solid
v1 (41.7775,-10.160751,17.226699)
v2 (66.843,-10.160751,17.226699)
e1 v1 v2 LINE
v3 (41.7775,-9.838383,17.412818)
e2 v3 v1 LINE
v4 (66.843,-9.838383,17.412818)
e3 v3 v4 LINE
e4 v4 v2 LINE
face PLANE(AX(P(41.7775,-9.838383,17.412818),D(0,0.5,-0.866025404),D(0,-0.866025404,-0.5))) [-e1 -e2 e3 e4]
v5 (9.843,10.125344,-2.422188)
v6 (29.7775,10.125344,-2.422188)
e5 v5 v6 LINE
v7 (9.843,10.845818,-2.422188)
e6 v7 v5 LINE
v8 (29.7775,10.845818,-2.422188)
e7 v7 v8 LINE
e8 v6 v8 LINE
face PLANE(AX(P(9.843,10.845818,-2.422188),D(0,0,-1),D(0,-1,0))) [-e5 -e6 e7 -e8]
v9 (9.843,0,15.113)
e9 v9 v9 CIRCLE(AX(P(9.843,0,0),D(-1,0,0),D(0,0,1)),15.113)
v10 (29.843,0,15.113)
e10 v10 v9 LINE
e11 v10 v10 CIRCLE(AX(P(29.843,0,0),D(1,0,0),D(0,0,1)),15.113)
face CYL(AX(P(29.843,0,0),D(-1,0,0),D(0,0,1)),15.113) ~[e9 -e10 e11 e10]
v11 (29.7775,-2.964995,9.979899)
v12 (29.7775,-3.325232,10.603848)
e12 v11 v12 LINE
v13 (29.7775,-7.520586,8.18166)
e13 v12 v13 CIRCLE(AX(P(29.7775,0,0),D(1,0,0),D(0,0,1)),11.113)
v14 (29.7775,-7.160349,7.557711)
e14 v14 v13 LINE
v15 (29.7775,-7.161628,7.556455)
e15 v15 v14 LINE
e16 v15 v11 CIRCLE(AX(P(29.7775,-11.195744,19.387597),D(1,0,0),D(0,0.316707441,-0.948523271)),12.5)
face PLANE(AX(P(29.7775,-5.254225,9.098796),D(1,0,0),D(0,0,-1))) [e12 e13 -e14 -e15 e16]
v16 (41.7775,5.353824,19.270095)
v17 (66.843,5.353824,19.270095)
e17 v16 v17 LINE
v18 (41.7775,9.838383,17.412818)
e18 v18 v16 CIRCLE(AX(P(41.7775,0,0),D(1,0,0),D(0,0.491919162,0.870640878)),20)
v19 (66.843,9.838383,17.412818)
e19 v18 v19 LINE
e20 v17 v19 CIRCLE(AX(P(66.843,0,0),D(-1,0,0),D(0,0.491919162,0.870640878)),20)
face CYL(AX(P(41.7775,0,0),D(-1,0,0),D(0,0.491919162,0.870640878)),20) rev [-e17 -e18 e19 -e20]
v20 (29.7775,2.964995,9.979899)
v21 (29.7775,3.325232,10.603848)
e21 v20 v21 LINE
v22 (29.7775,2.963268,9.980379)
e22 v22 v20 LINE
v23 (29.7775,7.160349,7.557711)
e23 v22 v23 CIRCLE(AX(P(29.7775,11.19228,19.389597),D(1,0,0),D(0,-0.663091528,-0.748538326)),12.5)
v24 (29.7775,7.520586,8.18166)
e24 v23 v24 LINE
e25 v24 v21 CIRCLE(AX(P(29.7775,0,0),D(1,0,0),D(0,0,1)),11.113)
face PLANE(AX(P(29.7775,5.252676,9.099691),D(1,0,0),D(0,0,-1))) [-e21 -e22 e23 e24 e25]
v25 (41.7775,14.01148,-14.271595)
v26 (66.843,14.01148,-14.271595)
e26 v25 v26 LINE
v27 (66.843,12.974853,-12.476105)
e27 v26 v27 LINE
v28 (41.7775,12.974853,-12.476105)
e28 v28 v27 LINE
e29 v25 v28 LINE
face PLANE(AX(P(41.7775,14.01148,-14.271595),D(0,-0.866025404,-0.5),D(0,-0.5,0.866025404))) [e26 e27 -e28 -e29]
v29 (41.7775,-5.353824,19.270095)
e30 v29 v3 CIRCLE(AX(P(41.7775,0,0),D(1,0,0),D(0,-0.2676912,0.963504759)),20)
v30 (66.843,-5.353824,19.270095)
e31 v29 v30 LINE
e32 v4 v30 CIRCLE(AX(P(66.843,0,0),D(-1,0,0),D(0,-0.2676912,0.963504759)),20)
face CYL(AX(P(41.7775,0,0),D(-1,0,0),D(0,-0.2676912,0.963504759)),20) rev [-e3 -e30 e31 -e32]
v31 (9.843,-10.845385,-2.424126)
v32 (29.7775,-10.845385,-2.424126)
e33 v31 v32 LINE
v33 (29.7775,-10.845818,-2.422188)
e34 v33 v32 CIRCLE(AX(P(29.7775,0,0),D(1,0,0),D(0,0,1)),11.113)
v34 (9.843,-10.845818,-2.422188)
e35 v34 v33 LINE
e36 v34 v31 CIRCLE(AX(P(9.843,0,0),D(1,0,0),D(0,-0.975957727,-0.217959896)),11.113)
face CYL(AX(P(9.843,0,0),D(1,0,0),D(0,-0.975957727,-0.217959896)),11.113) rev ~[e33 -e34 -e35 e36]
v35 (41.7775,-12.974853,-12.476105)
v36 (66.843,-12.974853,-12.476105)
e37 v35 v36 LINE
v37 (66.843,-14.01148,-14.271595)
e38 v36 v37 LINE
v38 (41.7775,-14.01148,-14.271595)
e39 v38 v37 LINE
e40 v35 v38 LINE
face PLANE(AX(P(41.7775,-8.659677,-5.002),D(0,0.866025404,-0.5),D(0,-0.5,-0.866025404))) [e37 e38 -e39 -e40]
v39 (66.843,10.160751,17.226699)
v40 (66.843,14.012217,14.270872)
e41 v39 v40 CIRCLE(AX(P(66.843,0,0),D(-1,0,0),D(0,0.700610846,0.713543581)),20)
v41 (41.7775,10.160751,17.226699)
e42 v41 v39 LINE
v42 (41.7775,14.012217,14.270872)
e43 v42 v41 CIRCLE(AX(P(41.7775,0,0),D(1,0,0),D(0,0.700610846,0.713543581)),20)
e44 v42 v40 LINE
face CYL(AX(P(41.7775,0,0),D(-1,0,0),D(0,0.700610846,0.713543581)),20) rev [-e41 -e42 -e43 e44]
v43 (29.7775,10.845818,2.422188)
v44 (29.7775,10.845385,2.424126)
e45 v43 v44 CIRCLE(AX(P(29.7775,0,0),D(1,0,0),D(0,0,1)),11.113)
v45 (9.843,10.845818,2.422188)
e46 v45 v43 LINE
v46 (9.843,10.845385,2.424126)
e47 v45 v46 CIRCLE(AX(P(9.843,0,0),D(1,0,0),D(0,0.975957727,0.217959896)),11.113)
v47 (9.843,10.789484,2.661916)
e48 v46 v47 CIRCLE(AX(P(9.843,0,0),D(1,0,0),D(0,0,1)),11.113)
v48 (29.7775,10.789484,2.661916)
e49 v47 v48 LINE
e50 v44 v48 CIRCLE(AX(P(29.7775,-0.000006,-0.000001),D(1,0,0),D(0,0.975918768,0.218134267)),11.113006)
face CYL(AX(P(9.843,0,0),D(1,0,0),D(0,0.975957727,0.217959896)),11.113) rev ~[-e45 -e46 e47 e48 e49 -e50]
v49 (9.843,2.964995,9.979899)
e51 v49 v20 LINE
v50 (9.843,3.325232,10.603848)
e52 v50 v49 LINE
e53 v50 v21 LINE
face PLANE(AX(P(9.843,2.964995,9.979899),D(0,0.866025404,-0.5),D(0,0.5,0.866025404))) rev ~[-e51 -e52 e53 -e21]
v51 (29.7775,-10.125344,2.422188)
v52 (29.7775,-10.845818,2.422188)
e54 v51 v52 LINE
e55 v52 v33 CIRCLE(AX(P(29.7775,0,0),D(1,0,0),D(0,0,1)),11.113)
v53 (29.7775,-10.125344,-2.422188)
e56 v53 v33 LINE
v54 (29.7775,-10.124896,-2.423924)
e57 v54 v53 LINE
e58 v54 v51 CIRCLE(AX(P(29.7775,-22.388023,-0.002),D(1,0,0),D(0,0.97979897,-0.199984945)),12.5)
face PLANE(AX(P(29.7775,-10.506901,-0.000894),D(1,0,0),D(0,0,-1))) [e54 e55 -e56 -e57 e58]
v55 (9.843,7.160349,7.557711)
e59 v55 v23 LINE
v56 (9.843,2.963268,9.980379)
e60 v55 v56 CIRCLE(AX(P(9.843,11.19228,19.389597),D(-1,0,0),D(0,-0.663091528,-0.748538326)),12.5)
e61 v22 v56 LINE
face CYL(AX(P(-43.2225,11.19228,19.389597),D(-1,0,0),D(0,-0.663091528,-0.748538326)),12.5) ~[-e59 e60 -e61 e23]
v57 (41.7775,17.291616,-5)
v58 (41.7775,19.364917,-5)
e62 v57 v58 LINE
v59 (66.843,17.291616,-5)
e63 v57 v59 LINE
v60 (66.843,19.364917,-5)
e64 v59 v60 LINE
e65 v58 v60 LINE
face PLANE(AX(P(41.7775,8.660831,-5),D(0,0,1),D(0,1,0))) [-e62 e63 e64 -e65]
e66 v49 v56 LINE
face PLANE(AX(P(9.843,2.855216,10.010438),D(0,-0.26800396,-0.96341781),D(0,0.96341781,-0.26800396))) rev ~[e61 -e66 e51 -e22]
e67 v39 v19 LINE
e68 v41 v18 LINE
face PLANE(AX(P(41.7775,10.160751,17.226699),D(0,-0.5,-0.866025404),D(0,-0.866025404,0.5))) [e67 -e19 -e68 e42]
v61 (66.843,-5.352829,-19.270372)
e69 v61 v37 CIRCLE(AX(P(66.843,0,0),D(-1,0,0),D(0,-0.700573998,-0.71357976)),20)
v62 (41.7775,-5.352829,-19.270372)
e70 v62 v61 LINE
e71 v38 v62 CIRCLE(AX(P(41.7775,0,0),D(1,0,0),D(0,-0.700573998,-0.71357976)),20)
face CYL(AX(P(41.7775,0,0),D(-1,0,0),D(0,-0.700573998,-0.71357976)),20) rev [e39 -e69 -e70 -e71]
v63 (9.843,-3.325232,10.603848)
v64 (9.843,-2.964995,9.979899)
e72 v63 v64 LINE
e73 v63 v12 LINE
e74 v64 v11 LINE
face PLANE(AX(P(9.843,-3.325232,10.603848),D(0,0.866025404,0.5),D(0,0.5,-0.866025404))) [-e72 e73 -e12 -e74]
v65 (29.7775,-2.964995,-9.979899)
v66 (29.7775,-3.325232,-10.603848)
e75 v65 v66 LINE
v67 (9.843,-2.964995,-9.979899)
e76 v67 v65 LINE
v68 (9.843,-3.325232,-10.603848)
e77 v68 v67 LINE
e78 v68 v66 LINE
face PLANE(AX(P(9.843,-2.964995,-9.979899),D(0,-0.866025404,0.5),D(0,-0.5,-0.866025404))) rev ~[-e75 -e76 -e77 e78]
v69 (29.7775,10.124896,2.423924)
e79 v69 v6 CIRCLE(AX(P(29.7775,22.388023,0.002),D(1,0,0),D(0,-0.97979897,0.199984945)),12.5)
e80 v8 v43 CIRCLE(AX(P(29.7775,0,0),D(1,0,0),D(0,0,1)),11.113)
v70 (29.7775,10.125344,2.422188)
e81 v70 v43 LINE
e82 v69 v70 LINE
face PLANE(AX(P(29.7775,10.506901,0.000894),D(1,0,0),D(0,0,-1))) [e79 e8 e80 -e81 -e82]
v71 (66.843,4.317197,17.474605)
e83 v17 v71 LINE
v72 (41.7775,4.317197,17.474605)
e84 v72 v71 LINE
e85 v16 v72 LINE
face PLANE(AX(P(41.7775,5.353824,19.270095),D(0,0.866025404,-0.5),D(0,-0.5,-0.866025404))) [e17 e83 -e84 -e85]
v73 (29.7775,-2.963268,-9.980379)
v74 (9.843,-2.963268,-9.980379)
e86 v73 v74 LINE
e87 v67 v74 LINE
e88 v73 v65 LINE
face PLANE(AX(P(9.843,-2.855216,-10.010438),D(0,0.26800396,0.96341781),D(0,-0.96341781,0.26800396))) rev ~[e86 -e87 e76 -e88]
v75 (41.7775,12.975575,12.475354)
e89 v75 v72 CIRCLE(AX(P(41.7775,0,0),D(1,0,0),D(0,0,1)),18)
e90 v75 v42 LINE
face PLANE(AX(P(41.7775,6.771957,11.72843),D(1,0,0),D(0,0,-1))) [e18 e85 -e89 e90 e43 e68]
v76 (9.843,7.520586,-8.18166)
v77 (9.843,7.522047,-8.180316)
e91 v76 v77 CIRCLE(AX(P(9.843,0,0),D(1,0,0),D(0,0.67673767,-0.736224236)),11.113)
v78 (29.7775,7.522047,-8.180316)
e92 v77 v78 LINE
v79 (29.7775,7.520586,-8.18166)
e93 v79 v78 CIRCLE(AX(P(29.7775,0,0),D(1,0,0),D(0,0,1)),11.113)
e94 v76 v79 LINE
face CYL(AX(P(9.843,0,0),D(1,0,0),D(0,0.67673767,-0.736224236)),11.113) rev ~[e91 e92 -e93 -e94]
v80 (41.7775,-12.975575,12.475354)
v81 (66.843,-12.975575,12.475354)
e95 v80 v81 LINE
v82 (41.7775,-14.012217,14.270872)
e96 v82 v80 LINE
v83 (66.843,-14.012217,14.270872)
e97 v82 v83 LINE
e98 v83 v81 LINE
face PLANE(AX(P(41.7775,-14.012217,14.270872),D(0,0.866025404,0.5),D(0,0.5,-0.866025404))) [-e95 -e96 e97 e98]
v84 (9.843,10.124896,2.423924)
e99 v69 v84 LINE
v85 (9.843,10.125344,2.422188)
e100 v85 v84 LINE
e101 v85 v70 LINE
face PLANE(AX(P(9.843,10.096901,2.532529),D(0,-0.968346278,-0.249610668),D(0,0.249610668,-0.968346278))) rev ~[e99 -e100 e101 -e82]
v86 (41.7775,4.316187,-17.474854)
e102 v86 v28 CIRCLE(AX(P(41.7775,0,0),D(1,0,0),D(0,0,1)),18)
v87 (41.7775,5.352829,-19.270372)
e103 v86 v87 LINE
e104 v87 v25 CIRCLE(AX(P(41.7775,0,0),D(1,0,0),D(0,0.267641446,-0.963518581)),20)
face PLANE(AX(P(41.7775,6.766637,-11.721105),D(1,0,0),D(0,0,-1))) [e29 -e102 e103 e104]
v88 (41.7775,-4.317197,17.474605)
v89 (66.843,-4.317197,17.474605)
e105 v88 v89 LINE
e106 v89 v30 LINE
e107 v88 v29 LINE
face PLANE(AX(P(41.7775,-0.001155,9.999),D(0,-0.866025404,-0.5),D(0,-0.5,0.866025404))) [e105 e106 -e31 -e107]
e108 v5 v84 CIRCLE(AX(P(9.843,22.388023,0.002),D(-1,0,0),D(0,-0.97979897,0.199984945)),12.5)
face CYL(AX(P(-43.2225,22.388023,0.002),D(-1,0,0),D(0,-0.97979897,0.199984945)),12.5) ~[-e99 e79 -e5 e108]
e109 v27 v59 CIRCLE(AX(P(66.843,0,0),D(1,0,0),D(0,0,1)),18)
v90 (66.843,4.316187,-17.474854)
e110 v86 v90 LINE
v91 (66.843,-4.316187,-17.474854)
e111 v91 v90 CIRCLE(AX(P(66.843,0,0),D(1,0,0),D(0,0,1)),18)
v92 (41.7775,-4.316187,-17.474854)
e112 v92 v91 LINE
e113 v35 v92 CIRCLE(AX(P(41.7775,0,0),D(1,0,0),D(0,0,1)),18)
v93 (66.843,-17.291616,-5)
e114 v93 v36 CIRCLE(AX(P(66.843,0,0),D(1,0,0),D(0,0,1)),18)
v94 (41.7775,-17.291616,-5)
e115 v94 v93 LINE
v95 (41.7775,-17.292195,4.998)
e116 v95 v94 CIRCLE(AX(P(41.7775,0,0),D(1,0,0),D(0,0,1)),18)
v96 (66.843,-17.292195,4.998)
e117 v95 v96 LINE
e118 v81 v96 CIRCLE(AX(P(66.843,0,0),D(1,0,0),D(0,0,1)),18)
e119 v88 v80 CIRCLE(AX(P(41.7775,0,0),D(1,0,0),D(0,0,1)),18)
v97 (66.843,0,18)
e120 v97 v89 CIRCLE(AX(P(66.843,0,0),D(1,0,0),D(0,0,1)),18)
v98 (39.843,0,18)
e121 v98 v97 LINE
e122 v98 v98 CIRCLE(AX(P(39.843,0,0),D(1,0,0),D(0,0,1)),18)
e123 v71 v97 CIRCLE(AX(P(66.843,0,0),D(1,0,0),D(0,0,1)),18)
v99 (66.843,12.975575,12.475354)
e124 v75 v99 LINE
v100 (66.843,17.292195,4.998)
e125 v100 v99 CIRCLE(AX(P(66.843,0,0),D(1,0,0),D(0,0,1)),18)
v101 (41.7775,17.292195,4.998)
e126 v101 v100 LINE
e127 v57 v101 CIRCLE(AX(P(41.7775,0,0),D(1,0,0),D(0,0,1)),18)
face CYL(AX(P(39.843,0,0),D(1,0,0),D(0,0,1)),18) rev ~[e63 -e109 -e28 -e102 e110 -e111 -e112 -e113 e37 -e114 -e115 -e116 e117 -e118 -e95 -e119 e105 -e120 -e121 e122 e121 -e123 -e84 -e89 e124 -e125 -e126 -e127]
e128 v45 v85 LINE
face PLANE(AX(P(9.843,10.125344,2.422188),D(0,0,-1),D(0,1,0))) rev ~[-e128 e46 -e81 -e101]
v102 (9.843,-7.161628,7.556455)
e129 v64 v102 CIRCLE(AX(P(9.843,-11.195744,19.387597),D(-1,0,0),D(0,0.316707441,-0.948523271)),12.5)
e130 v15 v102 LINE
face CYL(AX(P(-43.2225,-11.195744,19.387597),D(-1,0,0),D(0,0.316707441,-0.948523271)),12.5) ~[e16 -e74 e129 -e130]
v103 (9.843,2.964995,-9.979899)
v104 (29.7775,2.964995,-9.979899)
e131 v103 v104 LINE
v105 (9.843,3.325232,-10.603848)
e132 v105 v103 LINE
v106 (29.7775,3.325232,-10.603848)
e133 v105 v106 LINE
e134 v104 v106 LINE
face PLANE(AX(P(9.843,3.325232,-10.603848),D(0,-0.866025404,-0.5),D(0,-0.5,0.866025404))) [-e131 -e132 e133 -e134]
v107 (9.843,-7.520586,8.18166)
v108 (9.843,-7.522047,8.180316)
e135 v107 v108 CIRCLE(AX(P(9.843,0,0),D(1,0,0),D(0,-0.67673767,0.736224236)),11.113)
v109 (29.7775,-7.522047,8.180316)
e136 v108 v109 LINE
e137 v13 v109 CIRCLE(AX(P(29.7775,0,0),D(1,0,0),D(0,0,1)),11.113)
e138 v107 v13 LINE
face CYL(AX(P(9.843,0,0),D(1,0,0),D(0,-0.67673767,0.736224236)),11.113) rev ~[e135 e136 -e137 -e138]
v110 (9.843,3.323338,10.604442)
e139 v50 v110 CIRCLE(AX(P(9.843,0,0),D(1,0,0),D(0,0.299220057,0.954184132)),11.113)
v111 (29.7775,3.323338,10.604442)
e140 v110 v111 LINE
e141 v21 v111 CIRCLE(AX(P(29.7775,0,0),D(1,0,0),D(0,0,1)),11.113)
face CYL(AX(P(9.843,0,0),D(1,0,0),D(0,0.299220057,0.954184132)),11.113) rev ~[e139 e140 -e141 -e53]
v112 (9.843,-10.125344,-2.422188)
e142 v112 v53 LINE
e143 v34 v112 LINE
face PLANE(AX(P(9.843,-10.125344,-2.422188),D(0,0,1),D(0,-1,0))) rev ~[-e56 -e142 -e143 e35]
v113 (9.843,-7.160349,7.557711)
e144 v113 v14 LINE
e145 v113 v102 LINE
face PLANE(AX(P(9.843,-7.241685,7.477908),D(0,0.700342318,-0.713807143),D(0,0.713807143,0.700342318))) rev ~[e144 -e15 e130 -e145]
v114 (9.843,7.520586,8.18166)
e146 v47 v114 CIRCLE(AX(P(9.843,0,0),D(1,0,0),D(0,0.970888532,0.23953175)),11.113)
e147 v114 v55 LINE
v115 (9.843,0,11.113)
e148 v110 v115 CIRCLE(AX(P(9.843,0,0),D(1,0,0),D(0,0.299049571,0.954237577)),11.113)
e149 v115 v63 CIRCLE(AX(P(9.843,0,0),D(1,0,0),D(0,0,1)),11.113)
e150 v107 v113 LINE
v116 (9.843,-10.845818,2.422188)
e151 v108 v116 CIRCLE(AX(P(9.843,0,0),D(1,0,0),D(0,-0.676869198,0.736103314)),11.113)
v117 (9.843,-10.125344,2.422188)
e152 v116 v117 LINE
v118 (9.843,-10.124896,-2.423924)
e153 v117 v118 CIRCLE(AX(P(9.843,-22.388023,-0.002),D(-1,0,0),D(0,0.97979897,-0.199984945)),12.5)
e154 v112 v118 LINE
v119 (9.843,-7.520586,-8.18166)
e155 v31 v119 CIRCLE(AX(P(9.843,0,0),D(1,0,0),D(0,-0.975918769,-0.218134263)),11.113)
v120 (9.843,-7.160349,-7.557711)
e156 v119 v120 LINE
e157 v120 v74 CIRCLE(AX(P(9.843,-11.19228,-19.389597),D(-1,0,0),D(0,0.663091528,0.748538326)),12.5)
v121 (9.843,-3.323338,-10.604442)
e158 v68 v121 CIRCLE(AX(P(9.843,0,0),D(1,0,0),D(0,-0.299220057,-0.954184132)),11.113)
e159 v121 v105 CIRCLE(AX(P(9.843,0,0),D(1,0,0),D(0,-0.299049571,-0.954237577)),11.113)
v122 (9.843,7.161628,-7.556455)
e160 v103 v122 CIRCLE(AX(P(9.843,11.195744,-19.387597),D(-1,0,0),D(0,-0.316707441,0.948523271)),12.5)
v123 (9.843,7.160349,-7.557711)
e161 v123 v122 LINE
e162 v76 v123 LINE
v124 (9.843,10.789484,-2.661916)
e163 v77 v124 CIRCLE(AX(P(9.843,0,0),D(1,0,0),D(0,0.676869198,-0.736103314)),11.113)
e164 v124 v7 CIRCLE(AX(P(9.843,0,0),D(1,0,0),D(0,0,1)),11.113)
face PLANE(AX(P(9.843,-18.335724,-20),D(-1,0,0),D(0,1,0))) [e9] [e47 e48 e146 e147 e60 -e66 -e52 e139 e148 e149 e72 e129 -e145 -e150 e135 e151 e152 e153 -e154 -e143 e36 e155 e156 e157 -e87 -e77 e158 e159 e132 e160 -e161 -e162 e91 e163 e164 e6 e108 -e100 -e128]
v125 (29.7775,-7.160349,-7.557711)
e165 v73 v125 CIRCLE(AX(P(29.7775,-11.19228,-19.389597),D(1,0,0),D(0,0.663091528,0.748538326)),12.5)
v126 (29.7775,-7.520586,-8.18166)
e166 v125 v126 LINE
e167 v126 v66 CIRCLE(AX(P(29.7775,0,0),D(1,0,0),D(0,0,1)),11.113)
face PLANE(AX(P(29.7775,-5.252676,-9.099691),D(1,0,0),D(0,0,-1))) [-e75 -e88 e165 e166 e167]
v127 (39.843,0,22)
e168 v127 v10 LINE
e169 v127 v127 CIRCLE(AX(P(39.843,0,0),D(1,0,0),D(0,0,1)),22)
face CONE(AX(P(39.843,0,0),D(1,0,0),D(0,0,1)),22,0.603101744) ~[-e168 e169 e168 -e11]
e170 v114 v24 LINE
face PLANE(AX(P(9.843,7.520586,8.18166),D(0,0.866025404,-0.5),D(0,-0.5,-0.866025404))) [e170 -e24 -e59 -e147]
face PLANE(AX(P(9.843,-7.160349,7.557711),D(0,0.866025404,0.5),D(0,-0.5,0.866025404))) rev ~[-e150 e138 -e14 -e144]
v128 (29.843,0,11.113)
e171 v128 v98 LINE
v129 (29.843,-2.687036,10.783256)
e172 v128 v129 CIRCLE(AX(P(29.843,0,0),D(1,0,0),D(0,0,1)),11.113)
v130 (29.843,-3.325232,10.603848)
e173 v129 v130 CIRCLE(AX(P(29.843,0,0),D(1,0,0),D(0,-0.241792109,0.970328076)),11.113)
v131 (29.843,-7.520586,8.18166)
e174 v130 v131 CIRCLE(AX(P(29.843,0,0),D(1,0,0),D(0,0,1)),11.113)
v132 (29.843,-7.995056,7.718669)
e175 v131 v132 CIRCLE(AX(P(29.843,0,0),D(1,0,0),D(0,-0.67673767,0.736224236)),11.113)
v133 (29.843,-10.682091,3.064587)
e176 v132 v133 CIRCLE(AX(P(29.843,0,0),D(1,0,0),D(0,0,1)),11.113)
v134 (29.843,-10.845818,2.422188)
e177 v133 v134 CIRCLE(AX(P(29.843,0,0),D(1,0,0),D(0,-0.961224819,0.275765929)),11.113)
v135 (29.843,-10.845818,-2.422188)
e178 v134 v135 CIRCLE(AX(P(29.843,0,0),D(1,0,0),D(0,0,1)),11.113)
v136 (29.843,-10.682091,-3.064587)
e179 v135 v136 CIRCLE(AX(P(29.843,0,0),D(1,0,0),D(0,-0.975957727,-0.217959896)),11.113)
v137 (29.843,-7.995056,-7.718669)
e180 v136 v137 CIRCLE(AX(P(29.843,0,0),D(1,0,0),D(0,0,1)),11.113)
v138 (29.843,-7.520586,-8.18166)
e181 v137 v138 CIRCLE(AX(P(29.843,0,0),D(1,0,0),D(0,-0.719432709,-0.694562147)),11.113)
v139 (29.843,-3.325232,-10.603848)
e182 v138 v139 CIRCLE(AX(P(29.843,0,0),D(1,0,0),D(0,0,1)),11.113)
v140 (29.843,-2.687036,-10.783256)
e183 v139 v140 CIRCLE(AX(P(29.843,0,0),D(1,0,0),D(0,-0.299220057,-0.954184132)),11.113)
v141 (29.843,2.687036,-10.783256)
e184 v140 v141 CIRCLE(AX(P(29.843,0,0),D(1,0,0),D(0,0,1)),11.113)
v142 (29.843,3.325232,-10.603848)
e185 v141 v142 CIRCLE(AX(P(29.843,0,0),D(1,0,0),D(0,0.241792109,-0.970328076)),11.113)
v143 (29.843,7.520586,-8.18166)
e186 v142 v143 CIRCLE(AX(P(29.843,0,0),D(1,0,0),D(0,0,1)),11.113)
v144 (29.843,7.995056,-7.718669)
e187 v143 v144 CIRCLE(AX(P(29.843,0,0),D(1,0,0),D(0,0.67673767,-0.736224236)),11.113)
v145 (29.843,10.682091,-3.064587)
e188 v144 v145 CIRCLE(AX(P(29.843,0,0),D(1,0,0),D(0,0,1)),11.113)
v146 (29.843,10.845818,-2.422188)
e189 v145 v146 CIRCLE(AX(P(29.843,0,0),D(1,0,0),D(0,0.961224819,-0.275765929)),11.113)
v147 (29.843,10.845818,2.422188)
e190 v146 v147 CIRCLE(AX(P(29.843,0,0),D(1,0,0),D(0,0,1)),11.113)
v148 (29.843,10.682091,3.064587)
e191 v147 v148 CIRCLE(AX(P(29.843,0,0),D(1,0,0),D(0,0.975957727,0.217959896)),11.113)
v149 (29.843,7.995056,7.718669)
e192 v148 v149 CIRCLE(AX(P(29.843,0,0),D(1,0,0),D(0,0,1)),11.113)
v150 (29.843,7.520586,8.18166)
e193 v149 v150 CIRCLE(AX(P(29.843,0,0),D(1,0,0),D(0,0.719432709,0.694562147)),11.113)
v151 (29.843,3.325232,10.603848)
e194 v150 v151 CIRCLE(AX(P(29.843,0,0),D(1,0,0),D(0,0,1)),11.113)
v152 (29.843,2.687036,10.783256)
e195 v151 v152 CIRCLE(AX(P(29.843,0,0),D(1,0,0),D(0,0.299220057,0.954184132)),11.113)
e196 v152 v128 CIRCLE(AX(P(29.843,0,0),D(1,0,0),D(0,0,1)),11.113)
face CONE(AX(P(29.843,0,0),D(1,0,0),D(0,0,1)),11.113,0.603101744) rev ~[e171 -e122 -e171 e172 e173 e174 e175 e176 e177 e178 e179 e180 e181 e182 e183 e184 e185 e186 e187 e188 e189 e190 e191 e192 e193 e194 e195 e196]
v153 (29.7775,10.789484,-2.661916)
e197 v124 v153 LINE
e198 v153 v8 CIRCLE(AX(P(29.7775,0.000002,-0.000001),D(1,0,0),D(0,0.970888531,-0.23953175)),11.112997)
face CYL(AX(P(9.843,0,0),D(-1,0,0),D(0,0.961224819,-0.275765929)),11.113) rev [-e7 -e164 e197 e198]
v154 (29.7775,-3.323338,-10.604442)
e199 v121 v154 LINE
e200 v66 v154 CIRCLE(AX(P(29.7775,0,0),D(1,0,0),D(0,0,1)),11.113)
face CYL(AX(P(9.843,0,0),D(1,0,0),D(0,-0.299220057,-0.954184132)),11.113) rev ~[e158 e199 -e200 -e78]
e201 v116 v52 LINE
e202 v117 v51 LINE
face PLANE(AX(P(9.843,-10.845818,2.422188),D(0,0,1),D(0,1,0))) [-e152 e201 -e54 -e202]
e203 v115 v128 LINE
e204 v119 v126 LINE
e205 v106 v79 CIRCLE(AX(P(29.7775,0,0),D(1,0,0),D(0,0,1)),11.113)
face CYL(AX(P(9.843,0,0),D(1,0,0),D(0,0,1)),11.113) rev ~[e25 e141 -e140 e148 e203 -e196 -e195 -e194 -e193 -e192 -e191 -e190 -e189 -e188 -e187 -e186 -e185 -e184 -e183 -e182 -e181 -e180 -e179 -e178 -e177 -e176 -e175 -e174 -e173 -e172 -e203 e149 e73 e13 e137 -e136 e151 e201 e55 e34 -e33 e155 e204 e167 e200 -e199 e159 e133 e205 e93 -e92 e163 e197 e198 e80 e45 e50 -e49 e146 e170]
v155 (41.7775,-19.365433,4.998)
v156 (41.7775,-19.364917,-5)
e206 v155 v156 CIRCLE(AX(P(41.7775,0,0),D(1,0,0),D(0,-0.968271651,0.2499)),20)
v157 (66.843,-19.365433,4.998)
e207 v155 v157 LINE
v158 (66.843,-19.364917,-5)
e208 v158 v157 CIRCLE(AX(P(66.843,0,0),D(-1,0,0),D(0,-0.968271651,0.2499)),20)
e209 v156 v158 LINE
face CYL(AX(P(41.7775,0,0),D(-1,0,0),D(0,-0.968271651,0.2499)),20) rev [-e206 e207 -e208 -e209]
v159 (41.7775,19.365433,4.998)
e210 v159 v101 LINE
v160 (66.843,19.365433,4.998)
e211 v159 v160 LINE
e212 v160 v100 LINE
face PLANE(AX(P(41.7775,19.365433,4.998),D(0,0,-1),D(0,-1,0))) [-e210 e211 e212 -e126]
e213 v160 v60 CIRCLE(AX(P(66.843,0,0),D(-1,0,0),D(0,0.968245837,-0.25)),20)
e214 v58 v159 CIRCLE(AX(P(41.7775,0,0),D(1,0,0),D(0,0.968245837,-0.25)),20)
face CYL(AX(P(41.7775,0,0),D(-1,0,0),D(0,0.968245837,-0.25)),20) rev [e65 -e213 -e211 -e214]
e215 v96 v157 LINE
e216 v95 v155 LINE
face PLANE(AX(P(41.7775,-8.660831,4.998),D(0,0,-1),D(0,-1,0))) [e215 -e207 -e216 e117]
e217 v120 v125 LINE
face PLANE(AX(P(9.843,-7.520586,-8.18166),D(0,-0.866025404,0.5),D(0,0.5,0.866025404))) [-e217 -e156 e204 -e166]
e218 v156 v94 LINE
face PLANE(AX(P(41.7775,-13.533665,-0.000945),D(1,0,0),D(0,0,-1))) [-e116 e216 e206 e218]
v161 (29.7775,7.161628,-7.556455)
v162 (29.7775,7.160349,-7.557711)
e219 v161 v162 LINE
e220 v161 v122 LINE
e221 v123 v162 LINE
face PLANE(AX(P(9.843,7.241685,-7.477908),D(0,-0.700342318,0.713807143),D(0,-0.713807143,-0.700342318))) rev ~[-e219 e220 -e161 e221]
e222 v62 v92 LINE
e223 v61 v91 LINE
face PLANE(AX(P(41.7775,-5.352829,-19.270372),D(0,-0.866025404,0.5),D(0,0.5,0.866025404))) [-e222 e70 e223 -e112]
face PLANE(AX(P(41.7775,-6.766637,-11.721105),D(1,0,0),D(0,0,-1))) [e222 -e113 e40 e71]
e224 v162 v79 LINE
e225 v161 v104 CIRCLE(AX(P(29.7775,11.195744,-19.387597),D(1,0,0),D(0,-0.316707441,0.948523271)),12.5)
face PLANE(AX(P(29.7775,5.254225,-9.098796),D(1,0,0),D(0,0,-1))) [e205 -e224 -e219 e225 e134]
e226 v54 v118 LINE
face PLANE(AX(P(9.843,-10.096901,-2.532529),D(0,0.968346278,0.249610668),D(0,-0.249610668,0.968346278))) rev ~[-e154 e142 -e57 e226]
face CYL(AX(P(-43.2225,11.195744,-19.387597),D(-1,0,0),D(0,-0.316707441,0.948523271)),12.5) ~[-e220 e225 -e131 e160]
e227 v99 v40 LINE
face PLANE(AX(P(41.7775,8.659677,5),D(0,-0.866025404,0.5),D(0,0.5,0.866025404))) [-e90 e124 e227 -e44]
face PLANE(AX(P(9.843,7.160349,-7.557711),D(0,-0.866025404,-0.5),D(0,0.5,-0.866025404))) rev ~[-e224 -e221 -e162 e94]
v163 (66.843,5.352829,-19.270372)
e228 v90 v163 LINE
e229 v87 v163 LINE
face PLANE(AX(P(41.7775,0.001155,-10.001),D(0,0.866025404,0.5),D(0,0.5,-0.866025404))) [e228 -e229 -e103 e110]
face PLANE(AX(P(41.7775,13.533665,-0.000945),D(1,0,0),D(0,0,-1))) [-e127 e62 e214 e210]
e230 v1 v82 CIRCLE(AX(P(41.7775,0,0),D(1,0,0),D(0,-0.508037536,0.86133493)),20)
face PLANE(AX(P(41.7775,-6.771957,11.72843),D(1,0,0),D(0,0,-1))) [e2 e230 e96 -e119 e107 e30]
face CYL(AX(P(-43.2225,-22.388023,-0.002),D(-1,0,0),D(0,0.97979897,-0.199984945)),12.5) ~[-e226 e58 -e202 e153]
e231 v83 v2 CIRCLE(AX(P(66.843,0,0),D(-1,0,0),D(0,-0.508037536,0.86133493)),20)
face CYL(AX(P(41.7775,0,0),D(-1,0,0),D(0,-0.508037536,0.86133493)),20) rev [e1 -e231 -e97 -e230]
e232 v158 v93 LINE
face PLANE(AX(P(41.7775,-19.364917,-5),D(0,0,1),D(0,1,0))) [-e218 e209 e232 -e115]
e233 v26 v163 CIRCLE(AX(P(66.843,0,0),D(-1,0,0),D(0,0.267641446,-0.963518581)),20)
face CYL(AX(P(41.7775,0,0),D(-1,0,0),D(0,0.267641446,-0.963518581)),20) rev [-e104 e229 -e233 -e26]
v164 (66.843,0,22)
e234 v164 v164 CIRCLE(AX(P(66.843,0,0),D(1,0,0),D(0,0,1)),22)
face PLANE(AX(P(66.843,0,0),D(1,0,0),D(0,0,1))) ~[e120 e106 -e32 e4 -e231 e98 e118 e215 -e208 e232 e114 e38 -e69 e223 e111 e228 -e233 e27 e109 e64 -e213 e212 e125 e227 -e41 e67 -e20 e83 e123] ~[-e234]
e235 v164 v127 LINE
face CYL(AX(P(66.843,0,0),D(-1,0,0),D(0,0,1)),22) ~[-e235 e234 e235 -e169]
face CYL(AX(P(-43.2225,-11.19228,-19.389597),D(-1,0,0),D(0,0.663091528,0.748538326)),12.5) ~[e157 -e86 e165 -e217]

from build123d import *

# Parameters (mm, degrees)
CUT_EXTRUDE1_DEPTH      = 30
CUT_EXTRUDE1_DEPTH_BACK = 5
BOSS_EXTRUDE1_DEPTH     = 73
CUT_EXTRUDE2_DEPTH      = 20
CUT_EXTRUDE2_DEPTH_BACK = 20
SKETCH5_W               = 66.529199046
SKETCH5_H               = 33.448723993
BOSS_EXTRUDE3_DEPTH     = 20
CUT_EXTRUDE3_DEPTH      = 20
CIRPATTERN1_COUNT       = 6


with BuildPart() as part:
    # Sketch1 → Revolve1 (revolve)
    with BuildSketch(Plane.XY, mode=Mode.PRIVATE) as revolve1_sk:
        Polygon((9.842999887, 11.113), (29.842999887, 11.113), (39.842999887, 18), (66.842999887, 18), (66.842999887, 22), (39.842999887, 22), (29.842999887, 15.113), (9.842999887, 15.113), align=None)
    revolve(revolve1_sk.sketch.rotate(Axis((-3.645367966, 0, 0), (1, 0, 0)), 90), axis=Axis((-3.645367966, 0, 0), (1, 0, 0)))

    # Sketch2 → Cut-Extrude1 (cut, two sides: drawn at the far end of the back side and taken through both)
    with BuildSketch(Plane(origin=(46.7775, 0, 0), x_dir=(0, 0, -1), z_dir=(1, 0, 0)).offset(-CUT_EXTRUDE1_DEPTH_BACK)):
        with BuildLine():
            Line((-5, 8.659676688), (-14.270871629, 14.012216918))
            ThreePointArc((-14.270871629, 14.012216918), (-15.866085859, 12.176506869), (-17.226698597, 10.160750732))
            Line((-17.226698597, 10.160750732), (-17.412817554, 9.838383242))
            ThreePointArc((-17.412817554, 9.838383242), (-18.478009625, 7.652657074), (-19.270095188, 5.353824003))
            Line((-19.270095188, 5.353824003), (-9.999, 0.001154701))
            Line((-9.999, 0.001154701), (-5, 2.887328696))
            Line((-5, 2.887328696), (-5, 8.659676688))
        make_face()
        with BuildLine():
            Line((0.001, 5.774657392), (5, 8.660831388))
            Line((5, 8.660831388), (5, 19.364916731))
            ThreePointArc((5, 19.364916731), (0.001032782, 19.999999973), (-4.998, 19.365433019))
            Line((-4.998, 19.365433019), (-4.998, 8.660831388))
            Line((-4.998, 8.660831388), (0.001, 5.774657392))
        make_face()
        with BuildLine():
            Line((10.001, 0.001154701), (19.270371629, 5.352828906))
            ThreePointArc((19.270371629, 5.352828906), (17.320766265, 9.999552789), (14.271595188, 14.011479965))
            Line((14.271595188, 14.011479965), (5.002, 8.659676688))
            Line((5.002, 8.659676688), (5.002, 2.887328696))
            Line((5.002, 2.887328696), (10.001, 0.001154701))
        make_face()
        with BuildLine():
            Line((19.270371629, -5.352828906), (10.001, -0.001154701))
            Line((10.001, -0.001154701), (5.002, -2.887328696))
            Line((5.002, -2.887328696), (5.002, -8.659676688))
            Line((5.002, -8.659676688), (14.271595188, -14.011479965))
            ThreePointArc((14.271595188, -14.011479965), (17.320766265, -9.999552789), (19.270371629, -5.352828906))
        make_face()
        with BuildLine():
            Line((5, -8.660831388), (0.001, -5.774657392))
            Line((0.001, -5.774657392), (-4.998, -8.660831388))
            Line((-4.998, -8.660831388), (-4.998, -19.365433019))
            ThreePointArc((-4.998, -19.365433019), (0.001032782, -19.999999973), (5, -19.364916731))
            Line((5, -19.364916731), (5, -8.660831388))
        make_face()
        with BuildLine():
            Line((-14.270871629, -14.012216918), (-5, -8.659676688))
            Line((-5, -8.659676688), (-5, -2.887328696))
            Line((-5, -2.887328696), (-9.999, -0.001154701))
            Line((-9.999, -0.001154701), (-19.270095188, -5.353824003))
            ThreePointArc((-19.270095188, -5.353824003), (-18.478009625, -7.652657074), (-17.412817554, -9.838383242))
            Line((-17.412817554, -9.838383242), (-17.226698597, -10.160750732))
            ThreePointArc((-17.226698597, -10.160750732), (-15.866085859, -12.176506869), (-14.270871629, -14.012216918))
        make_face()
    extrude(amount=CUT_EXTRUDE1_DEPTH + CUT_EXTRUDE1_DEPTH_BACK, mode=Mode.SUBTRACT)

    # Sketch3 → Boss-Extrude1 (add)
    with BuildSketch(Plane(origin=(-43.2225, 0, 0), x_dir=(0, 0, -1), z_dir=(1, 0, 0))):
        with BuildLine():
            Line((10.03247637, 2.905284302), (10.603848258, 3.325232492))
            ThreePointArc((10.603848258, 3.325232492), (9.677413399, 5.58840998), (8.18031613, 7.522047395))
            Line((8.18031613, 7.522047395), (7.531056114, 7.236900729))
            ThreePointArc((7.531056114, 7.236900729), (8.562885859, 4.944693552), (10.03247637, 2.905284302))
        make_face()
        with BuildLine():
            Line((7.532288195, -7.235737248), (8.18165994, -7.520585723))
            ThreePointArc((8.18165994, -7.520585723), (9.678411709, -5.586680857), (10.604442198, -3.323337882))
            Line((10.604442198, -3.323337882), (10.032867932, -2.903635548))
            ThreePointArc((10.032867932, -2.903635548), (8.56367316, -4.943329907), (7.532288195, -7.235737248))
        make_face()
        with BuildLine():
            Line((-2.500188174, -10.14102155), (-2.422188317, -10.845818215))
            ThreePointArc((-2.422188317, -10.845818215), (0.00099831, -11.175090837), (2.424126068, -10.845385277))
            Line((2.424126068, -10.845385277), (2.501811819, -10.140536276))
            ThreePointArc((2.501811819, -10.140536276), (0.000787301, -9.88802346), (-2.500188174, -10.14102155))
        make_face()
        with BuildLine():
            Line((-10.03247637, -2.905284302), (-10.603848258, -3.325232492))
            ThreePointArc((-10.603848258, -3.325232492), (-9.677413399, -5.58840998), (-8.18031613, -7.522047395))
            Line((-8.18031613, -7.522047395), (-7.531056114, -7.236900729))
            ThreePointArc((-7.531056114, -7.236900729), (-8.562885859, -4.944693552), (-10.03247637, -2.905284302))
        make_face()
        with BuildLine():
            Line((-7.532288195, 7.235737248), (-8.18165994, 7.520585723))
            ThreePointArc((-8.18165994, 7.520585723), (-9.678411709, 5.586680857), (-10.604442198, 3.323337882))
            Line((-10.604442198, 3.323337882), (-10.032867932, 2.903635548))
            ThreePointArc((-10.032867932, 2.903635548), (-8.56367316, 4.943329907), (-7.532288195, 7.235737248))
        make_face()
        with BuildLine():
            Line((2.500188174, 10.14102155), (2.422188317, 10.845818215))
            ThreePointArc((2.422188317, 10.845818215), (-0.00099831, 11.175090837), (-2.424126068, 10.845385277))
            Line((-2.424126068, 10.845385277), (-2.501811819, 10.140536276))
            ThreePointArc((-2.501811819, 10.140536276), (-0.000787301, 9.88802346), (2.500188174, 10.14102155))
        make_face()
    extrude(amount=BOSS_EXTRUDE1_DEPTH)

    # Sketch5 → Cut-Extrude2 (cut, two sides: drawn at the far end of the back side and taken through both)
    with BuildSketch(Plane.XY.offset(-CUT_EXTRUDE2_DEPTH_BACK)):
        with Locations((-23.421599636, -1.611361997)):
            Rectangle(SKETCH5_W, SKETCH5_H)
    extrude(amount=CUT_EXTRUDE2_DEPTH + CUT_EXTRUDE2_DEPTH_BACK, mode=Mode.SUBTRACT)

    # Sketch6 → Boss-Extrude3 (add)
    with BuildSketch(Plane(origin=(9.7775, 0, 0), x_dir=(0, 0, -1), z_dir=(1, 0, 0))):
        with BuildLine():
            ThreePointArc((2.661916341, 10.789484251), (2.542208375, 10.818315284), (2.422188317, 10.845818215))
            Line((2.422188317, 10.845818215), (2.501811819, 10.140536276))
            Line((2.501811819, 10.140536276), (2.661916341, 10.789484251))
        make_face()
        with BuildLine():
            Line((-2.661916341, 10.789484251), (-2.501811819, 10.140536276))
            Line((-2.501811819, 10.140536276), (-2.424126068, 10.845385277))
            ThreePointArc((-2.424126068, 10.845385277), (-2.543174803, 10.818088136), (-2.661916341, 10.789484251))
        make_face()
    extrude(amount=BOSS_EXTRUDE3_DEPTH)

    # Sketch7 → Cut-Extrude3 (cut, symmetric)
    with BuildSketch(Plane(origin=(9.842999887, 0, 0), x_dir=(0, 0, -1), z_dir=(1, 0, 0))):
        with BuildLine():
            Line((2.422188317, 10.845818215), (2.422188317, 10.1253438))
            Line((2.422188317, 10.1253438), (2.532529127, 10.096901244))
            Line((2.532529127, 10.096901244), (2.554732852, 10.240216199))
            Line((2.554732852, 10.240216199), (3.06458678, 10.682091409))
            ThreePointArc((3.06458678, 10.682091409), (2.74460869, 10.76874608), (2.422188317, 10.845818215))
        make_face()
        with BuildLine():
            Line((-2.532529127, 10.096901244), (-2.422188317, 10.1253438))
            Line((-2.422188317, 10.1253438), (-2.422188317, 10.845818215))
            ThreePointArc((-2.422188317, 10.845818215), (-2.74460869, 10.76874608), (-3.06458678, 10.682091409))
            Line((-3.06458678, 10.682091409), (-2.554732852, 10.240216199))
            Line((-2.554732852, 10.240216199), (-2.532529127, 10.096901244))
        make_face()
    cut_extrude3 = extrude(amount=CUT_EXTRUDE3_DEPTH, both=True, mode=Mode.SUBTRACT)

    # CirPattern1: Cut-Extrude3 ×6 about axis
    cirpattern1_axis = Axis((0, 0, 0), (1, 0, 0))
    for i in range(1, CIRPATTERN1_COUNT):
        add(cut_extrude3.rotate(cirpattern1_axis, i * 360 / CIRPATTERN1_COUNT), mode=Mode.SUBTRACT)


solid = part.part
